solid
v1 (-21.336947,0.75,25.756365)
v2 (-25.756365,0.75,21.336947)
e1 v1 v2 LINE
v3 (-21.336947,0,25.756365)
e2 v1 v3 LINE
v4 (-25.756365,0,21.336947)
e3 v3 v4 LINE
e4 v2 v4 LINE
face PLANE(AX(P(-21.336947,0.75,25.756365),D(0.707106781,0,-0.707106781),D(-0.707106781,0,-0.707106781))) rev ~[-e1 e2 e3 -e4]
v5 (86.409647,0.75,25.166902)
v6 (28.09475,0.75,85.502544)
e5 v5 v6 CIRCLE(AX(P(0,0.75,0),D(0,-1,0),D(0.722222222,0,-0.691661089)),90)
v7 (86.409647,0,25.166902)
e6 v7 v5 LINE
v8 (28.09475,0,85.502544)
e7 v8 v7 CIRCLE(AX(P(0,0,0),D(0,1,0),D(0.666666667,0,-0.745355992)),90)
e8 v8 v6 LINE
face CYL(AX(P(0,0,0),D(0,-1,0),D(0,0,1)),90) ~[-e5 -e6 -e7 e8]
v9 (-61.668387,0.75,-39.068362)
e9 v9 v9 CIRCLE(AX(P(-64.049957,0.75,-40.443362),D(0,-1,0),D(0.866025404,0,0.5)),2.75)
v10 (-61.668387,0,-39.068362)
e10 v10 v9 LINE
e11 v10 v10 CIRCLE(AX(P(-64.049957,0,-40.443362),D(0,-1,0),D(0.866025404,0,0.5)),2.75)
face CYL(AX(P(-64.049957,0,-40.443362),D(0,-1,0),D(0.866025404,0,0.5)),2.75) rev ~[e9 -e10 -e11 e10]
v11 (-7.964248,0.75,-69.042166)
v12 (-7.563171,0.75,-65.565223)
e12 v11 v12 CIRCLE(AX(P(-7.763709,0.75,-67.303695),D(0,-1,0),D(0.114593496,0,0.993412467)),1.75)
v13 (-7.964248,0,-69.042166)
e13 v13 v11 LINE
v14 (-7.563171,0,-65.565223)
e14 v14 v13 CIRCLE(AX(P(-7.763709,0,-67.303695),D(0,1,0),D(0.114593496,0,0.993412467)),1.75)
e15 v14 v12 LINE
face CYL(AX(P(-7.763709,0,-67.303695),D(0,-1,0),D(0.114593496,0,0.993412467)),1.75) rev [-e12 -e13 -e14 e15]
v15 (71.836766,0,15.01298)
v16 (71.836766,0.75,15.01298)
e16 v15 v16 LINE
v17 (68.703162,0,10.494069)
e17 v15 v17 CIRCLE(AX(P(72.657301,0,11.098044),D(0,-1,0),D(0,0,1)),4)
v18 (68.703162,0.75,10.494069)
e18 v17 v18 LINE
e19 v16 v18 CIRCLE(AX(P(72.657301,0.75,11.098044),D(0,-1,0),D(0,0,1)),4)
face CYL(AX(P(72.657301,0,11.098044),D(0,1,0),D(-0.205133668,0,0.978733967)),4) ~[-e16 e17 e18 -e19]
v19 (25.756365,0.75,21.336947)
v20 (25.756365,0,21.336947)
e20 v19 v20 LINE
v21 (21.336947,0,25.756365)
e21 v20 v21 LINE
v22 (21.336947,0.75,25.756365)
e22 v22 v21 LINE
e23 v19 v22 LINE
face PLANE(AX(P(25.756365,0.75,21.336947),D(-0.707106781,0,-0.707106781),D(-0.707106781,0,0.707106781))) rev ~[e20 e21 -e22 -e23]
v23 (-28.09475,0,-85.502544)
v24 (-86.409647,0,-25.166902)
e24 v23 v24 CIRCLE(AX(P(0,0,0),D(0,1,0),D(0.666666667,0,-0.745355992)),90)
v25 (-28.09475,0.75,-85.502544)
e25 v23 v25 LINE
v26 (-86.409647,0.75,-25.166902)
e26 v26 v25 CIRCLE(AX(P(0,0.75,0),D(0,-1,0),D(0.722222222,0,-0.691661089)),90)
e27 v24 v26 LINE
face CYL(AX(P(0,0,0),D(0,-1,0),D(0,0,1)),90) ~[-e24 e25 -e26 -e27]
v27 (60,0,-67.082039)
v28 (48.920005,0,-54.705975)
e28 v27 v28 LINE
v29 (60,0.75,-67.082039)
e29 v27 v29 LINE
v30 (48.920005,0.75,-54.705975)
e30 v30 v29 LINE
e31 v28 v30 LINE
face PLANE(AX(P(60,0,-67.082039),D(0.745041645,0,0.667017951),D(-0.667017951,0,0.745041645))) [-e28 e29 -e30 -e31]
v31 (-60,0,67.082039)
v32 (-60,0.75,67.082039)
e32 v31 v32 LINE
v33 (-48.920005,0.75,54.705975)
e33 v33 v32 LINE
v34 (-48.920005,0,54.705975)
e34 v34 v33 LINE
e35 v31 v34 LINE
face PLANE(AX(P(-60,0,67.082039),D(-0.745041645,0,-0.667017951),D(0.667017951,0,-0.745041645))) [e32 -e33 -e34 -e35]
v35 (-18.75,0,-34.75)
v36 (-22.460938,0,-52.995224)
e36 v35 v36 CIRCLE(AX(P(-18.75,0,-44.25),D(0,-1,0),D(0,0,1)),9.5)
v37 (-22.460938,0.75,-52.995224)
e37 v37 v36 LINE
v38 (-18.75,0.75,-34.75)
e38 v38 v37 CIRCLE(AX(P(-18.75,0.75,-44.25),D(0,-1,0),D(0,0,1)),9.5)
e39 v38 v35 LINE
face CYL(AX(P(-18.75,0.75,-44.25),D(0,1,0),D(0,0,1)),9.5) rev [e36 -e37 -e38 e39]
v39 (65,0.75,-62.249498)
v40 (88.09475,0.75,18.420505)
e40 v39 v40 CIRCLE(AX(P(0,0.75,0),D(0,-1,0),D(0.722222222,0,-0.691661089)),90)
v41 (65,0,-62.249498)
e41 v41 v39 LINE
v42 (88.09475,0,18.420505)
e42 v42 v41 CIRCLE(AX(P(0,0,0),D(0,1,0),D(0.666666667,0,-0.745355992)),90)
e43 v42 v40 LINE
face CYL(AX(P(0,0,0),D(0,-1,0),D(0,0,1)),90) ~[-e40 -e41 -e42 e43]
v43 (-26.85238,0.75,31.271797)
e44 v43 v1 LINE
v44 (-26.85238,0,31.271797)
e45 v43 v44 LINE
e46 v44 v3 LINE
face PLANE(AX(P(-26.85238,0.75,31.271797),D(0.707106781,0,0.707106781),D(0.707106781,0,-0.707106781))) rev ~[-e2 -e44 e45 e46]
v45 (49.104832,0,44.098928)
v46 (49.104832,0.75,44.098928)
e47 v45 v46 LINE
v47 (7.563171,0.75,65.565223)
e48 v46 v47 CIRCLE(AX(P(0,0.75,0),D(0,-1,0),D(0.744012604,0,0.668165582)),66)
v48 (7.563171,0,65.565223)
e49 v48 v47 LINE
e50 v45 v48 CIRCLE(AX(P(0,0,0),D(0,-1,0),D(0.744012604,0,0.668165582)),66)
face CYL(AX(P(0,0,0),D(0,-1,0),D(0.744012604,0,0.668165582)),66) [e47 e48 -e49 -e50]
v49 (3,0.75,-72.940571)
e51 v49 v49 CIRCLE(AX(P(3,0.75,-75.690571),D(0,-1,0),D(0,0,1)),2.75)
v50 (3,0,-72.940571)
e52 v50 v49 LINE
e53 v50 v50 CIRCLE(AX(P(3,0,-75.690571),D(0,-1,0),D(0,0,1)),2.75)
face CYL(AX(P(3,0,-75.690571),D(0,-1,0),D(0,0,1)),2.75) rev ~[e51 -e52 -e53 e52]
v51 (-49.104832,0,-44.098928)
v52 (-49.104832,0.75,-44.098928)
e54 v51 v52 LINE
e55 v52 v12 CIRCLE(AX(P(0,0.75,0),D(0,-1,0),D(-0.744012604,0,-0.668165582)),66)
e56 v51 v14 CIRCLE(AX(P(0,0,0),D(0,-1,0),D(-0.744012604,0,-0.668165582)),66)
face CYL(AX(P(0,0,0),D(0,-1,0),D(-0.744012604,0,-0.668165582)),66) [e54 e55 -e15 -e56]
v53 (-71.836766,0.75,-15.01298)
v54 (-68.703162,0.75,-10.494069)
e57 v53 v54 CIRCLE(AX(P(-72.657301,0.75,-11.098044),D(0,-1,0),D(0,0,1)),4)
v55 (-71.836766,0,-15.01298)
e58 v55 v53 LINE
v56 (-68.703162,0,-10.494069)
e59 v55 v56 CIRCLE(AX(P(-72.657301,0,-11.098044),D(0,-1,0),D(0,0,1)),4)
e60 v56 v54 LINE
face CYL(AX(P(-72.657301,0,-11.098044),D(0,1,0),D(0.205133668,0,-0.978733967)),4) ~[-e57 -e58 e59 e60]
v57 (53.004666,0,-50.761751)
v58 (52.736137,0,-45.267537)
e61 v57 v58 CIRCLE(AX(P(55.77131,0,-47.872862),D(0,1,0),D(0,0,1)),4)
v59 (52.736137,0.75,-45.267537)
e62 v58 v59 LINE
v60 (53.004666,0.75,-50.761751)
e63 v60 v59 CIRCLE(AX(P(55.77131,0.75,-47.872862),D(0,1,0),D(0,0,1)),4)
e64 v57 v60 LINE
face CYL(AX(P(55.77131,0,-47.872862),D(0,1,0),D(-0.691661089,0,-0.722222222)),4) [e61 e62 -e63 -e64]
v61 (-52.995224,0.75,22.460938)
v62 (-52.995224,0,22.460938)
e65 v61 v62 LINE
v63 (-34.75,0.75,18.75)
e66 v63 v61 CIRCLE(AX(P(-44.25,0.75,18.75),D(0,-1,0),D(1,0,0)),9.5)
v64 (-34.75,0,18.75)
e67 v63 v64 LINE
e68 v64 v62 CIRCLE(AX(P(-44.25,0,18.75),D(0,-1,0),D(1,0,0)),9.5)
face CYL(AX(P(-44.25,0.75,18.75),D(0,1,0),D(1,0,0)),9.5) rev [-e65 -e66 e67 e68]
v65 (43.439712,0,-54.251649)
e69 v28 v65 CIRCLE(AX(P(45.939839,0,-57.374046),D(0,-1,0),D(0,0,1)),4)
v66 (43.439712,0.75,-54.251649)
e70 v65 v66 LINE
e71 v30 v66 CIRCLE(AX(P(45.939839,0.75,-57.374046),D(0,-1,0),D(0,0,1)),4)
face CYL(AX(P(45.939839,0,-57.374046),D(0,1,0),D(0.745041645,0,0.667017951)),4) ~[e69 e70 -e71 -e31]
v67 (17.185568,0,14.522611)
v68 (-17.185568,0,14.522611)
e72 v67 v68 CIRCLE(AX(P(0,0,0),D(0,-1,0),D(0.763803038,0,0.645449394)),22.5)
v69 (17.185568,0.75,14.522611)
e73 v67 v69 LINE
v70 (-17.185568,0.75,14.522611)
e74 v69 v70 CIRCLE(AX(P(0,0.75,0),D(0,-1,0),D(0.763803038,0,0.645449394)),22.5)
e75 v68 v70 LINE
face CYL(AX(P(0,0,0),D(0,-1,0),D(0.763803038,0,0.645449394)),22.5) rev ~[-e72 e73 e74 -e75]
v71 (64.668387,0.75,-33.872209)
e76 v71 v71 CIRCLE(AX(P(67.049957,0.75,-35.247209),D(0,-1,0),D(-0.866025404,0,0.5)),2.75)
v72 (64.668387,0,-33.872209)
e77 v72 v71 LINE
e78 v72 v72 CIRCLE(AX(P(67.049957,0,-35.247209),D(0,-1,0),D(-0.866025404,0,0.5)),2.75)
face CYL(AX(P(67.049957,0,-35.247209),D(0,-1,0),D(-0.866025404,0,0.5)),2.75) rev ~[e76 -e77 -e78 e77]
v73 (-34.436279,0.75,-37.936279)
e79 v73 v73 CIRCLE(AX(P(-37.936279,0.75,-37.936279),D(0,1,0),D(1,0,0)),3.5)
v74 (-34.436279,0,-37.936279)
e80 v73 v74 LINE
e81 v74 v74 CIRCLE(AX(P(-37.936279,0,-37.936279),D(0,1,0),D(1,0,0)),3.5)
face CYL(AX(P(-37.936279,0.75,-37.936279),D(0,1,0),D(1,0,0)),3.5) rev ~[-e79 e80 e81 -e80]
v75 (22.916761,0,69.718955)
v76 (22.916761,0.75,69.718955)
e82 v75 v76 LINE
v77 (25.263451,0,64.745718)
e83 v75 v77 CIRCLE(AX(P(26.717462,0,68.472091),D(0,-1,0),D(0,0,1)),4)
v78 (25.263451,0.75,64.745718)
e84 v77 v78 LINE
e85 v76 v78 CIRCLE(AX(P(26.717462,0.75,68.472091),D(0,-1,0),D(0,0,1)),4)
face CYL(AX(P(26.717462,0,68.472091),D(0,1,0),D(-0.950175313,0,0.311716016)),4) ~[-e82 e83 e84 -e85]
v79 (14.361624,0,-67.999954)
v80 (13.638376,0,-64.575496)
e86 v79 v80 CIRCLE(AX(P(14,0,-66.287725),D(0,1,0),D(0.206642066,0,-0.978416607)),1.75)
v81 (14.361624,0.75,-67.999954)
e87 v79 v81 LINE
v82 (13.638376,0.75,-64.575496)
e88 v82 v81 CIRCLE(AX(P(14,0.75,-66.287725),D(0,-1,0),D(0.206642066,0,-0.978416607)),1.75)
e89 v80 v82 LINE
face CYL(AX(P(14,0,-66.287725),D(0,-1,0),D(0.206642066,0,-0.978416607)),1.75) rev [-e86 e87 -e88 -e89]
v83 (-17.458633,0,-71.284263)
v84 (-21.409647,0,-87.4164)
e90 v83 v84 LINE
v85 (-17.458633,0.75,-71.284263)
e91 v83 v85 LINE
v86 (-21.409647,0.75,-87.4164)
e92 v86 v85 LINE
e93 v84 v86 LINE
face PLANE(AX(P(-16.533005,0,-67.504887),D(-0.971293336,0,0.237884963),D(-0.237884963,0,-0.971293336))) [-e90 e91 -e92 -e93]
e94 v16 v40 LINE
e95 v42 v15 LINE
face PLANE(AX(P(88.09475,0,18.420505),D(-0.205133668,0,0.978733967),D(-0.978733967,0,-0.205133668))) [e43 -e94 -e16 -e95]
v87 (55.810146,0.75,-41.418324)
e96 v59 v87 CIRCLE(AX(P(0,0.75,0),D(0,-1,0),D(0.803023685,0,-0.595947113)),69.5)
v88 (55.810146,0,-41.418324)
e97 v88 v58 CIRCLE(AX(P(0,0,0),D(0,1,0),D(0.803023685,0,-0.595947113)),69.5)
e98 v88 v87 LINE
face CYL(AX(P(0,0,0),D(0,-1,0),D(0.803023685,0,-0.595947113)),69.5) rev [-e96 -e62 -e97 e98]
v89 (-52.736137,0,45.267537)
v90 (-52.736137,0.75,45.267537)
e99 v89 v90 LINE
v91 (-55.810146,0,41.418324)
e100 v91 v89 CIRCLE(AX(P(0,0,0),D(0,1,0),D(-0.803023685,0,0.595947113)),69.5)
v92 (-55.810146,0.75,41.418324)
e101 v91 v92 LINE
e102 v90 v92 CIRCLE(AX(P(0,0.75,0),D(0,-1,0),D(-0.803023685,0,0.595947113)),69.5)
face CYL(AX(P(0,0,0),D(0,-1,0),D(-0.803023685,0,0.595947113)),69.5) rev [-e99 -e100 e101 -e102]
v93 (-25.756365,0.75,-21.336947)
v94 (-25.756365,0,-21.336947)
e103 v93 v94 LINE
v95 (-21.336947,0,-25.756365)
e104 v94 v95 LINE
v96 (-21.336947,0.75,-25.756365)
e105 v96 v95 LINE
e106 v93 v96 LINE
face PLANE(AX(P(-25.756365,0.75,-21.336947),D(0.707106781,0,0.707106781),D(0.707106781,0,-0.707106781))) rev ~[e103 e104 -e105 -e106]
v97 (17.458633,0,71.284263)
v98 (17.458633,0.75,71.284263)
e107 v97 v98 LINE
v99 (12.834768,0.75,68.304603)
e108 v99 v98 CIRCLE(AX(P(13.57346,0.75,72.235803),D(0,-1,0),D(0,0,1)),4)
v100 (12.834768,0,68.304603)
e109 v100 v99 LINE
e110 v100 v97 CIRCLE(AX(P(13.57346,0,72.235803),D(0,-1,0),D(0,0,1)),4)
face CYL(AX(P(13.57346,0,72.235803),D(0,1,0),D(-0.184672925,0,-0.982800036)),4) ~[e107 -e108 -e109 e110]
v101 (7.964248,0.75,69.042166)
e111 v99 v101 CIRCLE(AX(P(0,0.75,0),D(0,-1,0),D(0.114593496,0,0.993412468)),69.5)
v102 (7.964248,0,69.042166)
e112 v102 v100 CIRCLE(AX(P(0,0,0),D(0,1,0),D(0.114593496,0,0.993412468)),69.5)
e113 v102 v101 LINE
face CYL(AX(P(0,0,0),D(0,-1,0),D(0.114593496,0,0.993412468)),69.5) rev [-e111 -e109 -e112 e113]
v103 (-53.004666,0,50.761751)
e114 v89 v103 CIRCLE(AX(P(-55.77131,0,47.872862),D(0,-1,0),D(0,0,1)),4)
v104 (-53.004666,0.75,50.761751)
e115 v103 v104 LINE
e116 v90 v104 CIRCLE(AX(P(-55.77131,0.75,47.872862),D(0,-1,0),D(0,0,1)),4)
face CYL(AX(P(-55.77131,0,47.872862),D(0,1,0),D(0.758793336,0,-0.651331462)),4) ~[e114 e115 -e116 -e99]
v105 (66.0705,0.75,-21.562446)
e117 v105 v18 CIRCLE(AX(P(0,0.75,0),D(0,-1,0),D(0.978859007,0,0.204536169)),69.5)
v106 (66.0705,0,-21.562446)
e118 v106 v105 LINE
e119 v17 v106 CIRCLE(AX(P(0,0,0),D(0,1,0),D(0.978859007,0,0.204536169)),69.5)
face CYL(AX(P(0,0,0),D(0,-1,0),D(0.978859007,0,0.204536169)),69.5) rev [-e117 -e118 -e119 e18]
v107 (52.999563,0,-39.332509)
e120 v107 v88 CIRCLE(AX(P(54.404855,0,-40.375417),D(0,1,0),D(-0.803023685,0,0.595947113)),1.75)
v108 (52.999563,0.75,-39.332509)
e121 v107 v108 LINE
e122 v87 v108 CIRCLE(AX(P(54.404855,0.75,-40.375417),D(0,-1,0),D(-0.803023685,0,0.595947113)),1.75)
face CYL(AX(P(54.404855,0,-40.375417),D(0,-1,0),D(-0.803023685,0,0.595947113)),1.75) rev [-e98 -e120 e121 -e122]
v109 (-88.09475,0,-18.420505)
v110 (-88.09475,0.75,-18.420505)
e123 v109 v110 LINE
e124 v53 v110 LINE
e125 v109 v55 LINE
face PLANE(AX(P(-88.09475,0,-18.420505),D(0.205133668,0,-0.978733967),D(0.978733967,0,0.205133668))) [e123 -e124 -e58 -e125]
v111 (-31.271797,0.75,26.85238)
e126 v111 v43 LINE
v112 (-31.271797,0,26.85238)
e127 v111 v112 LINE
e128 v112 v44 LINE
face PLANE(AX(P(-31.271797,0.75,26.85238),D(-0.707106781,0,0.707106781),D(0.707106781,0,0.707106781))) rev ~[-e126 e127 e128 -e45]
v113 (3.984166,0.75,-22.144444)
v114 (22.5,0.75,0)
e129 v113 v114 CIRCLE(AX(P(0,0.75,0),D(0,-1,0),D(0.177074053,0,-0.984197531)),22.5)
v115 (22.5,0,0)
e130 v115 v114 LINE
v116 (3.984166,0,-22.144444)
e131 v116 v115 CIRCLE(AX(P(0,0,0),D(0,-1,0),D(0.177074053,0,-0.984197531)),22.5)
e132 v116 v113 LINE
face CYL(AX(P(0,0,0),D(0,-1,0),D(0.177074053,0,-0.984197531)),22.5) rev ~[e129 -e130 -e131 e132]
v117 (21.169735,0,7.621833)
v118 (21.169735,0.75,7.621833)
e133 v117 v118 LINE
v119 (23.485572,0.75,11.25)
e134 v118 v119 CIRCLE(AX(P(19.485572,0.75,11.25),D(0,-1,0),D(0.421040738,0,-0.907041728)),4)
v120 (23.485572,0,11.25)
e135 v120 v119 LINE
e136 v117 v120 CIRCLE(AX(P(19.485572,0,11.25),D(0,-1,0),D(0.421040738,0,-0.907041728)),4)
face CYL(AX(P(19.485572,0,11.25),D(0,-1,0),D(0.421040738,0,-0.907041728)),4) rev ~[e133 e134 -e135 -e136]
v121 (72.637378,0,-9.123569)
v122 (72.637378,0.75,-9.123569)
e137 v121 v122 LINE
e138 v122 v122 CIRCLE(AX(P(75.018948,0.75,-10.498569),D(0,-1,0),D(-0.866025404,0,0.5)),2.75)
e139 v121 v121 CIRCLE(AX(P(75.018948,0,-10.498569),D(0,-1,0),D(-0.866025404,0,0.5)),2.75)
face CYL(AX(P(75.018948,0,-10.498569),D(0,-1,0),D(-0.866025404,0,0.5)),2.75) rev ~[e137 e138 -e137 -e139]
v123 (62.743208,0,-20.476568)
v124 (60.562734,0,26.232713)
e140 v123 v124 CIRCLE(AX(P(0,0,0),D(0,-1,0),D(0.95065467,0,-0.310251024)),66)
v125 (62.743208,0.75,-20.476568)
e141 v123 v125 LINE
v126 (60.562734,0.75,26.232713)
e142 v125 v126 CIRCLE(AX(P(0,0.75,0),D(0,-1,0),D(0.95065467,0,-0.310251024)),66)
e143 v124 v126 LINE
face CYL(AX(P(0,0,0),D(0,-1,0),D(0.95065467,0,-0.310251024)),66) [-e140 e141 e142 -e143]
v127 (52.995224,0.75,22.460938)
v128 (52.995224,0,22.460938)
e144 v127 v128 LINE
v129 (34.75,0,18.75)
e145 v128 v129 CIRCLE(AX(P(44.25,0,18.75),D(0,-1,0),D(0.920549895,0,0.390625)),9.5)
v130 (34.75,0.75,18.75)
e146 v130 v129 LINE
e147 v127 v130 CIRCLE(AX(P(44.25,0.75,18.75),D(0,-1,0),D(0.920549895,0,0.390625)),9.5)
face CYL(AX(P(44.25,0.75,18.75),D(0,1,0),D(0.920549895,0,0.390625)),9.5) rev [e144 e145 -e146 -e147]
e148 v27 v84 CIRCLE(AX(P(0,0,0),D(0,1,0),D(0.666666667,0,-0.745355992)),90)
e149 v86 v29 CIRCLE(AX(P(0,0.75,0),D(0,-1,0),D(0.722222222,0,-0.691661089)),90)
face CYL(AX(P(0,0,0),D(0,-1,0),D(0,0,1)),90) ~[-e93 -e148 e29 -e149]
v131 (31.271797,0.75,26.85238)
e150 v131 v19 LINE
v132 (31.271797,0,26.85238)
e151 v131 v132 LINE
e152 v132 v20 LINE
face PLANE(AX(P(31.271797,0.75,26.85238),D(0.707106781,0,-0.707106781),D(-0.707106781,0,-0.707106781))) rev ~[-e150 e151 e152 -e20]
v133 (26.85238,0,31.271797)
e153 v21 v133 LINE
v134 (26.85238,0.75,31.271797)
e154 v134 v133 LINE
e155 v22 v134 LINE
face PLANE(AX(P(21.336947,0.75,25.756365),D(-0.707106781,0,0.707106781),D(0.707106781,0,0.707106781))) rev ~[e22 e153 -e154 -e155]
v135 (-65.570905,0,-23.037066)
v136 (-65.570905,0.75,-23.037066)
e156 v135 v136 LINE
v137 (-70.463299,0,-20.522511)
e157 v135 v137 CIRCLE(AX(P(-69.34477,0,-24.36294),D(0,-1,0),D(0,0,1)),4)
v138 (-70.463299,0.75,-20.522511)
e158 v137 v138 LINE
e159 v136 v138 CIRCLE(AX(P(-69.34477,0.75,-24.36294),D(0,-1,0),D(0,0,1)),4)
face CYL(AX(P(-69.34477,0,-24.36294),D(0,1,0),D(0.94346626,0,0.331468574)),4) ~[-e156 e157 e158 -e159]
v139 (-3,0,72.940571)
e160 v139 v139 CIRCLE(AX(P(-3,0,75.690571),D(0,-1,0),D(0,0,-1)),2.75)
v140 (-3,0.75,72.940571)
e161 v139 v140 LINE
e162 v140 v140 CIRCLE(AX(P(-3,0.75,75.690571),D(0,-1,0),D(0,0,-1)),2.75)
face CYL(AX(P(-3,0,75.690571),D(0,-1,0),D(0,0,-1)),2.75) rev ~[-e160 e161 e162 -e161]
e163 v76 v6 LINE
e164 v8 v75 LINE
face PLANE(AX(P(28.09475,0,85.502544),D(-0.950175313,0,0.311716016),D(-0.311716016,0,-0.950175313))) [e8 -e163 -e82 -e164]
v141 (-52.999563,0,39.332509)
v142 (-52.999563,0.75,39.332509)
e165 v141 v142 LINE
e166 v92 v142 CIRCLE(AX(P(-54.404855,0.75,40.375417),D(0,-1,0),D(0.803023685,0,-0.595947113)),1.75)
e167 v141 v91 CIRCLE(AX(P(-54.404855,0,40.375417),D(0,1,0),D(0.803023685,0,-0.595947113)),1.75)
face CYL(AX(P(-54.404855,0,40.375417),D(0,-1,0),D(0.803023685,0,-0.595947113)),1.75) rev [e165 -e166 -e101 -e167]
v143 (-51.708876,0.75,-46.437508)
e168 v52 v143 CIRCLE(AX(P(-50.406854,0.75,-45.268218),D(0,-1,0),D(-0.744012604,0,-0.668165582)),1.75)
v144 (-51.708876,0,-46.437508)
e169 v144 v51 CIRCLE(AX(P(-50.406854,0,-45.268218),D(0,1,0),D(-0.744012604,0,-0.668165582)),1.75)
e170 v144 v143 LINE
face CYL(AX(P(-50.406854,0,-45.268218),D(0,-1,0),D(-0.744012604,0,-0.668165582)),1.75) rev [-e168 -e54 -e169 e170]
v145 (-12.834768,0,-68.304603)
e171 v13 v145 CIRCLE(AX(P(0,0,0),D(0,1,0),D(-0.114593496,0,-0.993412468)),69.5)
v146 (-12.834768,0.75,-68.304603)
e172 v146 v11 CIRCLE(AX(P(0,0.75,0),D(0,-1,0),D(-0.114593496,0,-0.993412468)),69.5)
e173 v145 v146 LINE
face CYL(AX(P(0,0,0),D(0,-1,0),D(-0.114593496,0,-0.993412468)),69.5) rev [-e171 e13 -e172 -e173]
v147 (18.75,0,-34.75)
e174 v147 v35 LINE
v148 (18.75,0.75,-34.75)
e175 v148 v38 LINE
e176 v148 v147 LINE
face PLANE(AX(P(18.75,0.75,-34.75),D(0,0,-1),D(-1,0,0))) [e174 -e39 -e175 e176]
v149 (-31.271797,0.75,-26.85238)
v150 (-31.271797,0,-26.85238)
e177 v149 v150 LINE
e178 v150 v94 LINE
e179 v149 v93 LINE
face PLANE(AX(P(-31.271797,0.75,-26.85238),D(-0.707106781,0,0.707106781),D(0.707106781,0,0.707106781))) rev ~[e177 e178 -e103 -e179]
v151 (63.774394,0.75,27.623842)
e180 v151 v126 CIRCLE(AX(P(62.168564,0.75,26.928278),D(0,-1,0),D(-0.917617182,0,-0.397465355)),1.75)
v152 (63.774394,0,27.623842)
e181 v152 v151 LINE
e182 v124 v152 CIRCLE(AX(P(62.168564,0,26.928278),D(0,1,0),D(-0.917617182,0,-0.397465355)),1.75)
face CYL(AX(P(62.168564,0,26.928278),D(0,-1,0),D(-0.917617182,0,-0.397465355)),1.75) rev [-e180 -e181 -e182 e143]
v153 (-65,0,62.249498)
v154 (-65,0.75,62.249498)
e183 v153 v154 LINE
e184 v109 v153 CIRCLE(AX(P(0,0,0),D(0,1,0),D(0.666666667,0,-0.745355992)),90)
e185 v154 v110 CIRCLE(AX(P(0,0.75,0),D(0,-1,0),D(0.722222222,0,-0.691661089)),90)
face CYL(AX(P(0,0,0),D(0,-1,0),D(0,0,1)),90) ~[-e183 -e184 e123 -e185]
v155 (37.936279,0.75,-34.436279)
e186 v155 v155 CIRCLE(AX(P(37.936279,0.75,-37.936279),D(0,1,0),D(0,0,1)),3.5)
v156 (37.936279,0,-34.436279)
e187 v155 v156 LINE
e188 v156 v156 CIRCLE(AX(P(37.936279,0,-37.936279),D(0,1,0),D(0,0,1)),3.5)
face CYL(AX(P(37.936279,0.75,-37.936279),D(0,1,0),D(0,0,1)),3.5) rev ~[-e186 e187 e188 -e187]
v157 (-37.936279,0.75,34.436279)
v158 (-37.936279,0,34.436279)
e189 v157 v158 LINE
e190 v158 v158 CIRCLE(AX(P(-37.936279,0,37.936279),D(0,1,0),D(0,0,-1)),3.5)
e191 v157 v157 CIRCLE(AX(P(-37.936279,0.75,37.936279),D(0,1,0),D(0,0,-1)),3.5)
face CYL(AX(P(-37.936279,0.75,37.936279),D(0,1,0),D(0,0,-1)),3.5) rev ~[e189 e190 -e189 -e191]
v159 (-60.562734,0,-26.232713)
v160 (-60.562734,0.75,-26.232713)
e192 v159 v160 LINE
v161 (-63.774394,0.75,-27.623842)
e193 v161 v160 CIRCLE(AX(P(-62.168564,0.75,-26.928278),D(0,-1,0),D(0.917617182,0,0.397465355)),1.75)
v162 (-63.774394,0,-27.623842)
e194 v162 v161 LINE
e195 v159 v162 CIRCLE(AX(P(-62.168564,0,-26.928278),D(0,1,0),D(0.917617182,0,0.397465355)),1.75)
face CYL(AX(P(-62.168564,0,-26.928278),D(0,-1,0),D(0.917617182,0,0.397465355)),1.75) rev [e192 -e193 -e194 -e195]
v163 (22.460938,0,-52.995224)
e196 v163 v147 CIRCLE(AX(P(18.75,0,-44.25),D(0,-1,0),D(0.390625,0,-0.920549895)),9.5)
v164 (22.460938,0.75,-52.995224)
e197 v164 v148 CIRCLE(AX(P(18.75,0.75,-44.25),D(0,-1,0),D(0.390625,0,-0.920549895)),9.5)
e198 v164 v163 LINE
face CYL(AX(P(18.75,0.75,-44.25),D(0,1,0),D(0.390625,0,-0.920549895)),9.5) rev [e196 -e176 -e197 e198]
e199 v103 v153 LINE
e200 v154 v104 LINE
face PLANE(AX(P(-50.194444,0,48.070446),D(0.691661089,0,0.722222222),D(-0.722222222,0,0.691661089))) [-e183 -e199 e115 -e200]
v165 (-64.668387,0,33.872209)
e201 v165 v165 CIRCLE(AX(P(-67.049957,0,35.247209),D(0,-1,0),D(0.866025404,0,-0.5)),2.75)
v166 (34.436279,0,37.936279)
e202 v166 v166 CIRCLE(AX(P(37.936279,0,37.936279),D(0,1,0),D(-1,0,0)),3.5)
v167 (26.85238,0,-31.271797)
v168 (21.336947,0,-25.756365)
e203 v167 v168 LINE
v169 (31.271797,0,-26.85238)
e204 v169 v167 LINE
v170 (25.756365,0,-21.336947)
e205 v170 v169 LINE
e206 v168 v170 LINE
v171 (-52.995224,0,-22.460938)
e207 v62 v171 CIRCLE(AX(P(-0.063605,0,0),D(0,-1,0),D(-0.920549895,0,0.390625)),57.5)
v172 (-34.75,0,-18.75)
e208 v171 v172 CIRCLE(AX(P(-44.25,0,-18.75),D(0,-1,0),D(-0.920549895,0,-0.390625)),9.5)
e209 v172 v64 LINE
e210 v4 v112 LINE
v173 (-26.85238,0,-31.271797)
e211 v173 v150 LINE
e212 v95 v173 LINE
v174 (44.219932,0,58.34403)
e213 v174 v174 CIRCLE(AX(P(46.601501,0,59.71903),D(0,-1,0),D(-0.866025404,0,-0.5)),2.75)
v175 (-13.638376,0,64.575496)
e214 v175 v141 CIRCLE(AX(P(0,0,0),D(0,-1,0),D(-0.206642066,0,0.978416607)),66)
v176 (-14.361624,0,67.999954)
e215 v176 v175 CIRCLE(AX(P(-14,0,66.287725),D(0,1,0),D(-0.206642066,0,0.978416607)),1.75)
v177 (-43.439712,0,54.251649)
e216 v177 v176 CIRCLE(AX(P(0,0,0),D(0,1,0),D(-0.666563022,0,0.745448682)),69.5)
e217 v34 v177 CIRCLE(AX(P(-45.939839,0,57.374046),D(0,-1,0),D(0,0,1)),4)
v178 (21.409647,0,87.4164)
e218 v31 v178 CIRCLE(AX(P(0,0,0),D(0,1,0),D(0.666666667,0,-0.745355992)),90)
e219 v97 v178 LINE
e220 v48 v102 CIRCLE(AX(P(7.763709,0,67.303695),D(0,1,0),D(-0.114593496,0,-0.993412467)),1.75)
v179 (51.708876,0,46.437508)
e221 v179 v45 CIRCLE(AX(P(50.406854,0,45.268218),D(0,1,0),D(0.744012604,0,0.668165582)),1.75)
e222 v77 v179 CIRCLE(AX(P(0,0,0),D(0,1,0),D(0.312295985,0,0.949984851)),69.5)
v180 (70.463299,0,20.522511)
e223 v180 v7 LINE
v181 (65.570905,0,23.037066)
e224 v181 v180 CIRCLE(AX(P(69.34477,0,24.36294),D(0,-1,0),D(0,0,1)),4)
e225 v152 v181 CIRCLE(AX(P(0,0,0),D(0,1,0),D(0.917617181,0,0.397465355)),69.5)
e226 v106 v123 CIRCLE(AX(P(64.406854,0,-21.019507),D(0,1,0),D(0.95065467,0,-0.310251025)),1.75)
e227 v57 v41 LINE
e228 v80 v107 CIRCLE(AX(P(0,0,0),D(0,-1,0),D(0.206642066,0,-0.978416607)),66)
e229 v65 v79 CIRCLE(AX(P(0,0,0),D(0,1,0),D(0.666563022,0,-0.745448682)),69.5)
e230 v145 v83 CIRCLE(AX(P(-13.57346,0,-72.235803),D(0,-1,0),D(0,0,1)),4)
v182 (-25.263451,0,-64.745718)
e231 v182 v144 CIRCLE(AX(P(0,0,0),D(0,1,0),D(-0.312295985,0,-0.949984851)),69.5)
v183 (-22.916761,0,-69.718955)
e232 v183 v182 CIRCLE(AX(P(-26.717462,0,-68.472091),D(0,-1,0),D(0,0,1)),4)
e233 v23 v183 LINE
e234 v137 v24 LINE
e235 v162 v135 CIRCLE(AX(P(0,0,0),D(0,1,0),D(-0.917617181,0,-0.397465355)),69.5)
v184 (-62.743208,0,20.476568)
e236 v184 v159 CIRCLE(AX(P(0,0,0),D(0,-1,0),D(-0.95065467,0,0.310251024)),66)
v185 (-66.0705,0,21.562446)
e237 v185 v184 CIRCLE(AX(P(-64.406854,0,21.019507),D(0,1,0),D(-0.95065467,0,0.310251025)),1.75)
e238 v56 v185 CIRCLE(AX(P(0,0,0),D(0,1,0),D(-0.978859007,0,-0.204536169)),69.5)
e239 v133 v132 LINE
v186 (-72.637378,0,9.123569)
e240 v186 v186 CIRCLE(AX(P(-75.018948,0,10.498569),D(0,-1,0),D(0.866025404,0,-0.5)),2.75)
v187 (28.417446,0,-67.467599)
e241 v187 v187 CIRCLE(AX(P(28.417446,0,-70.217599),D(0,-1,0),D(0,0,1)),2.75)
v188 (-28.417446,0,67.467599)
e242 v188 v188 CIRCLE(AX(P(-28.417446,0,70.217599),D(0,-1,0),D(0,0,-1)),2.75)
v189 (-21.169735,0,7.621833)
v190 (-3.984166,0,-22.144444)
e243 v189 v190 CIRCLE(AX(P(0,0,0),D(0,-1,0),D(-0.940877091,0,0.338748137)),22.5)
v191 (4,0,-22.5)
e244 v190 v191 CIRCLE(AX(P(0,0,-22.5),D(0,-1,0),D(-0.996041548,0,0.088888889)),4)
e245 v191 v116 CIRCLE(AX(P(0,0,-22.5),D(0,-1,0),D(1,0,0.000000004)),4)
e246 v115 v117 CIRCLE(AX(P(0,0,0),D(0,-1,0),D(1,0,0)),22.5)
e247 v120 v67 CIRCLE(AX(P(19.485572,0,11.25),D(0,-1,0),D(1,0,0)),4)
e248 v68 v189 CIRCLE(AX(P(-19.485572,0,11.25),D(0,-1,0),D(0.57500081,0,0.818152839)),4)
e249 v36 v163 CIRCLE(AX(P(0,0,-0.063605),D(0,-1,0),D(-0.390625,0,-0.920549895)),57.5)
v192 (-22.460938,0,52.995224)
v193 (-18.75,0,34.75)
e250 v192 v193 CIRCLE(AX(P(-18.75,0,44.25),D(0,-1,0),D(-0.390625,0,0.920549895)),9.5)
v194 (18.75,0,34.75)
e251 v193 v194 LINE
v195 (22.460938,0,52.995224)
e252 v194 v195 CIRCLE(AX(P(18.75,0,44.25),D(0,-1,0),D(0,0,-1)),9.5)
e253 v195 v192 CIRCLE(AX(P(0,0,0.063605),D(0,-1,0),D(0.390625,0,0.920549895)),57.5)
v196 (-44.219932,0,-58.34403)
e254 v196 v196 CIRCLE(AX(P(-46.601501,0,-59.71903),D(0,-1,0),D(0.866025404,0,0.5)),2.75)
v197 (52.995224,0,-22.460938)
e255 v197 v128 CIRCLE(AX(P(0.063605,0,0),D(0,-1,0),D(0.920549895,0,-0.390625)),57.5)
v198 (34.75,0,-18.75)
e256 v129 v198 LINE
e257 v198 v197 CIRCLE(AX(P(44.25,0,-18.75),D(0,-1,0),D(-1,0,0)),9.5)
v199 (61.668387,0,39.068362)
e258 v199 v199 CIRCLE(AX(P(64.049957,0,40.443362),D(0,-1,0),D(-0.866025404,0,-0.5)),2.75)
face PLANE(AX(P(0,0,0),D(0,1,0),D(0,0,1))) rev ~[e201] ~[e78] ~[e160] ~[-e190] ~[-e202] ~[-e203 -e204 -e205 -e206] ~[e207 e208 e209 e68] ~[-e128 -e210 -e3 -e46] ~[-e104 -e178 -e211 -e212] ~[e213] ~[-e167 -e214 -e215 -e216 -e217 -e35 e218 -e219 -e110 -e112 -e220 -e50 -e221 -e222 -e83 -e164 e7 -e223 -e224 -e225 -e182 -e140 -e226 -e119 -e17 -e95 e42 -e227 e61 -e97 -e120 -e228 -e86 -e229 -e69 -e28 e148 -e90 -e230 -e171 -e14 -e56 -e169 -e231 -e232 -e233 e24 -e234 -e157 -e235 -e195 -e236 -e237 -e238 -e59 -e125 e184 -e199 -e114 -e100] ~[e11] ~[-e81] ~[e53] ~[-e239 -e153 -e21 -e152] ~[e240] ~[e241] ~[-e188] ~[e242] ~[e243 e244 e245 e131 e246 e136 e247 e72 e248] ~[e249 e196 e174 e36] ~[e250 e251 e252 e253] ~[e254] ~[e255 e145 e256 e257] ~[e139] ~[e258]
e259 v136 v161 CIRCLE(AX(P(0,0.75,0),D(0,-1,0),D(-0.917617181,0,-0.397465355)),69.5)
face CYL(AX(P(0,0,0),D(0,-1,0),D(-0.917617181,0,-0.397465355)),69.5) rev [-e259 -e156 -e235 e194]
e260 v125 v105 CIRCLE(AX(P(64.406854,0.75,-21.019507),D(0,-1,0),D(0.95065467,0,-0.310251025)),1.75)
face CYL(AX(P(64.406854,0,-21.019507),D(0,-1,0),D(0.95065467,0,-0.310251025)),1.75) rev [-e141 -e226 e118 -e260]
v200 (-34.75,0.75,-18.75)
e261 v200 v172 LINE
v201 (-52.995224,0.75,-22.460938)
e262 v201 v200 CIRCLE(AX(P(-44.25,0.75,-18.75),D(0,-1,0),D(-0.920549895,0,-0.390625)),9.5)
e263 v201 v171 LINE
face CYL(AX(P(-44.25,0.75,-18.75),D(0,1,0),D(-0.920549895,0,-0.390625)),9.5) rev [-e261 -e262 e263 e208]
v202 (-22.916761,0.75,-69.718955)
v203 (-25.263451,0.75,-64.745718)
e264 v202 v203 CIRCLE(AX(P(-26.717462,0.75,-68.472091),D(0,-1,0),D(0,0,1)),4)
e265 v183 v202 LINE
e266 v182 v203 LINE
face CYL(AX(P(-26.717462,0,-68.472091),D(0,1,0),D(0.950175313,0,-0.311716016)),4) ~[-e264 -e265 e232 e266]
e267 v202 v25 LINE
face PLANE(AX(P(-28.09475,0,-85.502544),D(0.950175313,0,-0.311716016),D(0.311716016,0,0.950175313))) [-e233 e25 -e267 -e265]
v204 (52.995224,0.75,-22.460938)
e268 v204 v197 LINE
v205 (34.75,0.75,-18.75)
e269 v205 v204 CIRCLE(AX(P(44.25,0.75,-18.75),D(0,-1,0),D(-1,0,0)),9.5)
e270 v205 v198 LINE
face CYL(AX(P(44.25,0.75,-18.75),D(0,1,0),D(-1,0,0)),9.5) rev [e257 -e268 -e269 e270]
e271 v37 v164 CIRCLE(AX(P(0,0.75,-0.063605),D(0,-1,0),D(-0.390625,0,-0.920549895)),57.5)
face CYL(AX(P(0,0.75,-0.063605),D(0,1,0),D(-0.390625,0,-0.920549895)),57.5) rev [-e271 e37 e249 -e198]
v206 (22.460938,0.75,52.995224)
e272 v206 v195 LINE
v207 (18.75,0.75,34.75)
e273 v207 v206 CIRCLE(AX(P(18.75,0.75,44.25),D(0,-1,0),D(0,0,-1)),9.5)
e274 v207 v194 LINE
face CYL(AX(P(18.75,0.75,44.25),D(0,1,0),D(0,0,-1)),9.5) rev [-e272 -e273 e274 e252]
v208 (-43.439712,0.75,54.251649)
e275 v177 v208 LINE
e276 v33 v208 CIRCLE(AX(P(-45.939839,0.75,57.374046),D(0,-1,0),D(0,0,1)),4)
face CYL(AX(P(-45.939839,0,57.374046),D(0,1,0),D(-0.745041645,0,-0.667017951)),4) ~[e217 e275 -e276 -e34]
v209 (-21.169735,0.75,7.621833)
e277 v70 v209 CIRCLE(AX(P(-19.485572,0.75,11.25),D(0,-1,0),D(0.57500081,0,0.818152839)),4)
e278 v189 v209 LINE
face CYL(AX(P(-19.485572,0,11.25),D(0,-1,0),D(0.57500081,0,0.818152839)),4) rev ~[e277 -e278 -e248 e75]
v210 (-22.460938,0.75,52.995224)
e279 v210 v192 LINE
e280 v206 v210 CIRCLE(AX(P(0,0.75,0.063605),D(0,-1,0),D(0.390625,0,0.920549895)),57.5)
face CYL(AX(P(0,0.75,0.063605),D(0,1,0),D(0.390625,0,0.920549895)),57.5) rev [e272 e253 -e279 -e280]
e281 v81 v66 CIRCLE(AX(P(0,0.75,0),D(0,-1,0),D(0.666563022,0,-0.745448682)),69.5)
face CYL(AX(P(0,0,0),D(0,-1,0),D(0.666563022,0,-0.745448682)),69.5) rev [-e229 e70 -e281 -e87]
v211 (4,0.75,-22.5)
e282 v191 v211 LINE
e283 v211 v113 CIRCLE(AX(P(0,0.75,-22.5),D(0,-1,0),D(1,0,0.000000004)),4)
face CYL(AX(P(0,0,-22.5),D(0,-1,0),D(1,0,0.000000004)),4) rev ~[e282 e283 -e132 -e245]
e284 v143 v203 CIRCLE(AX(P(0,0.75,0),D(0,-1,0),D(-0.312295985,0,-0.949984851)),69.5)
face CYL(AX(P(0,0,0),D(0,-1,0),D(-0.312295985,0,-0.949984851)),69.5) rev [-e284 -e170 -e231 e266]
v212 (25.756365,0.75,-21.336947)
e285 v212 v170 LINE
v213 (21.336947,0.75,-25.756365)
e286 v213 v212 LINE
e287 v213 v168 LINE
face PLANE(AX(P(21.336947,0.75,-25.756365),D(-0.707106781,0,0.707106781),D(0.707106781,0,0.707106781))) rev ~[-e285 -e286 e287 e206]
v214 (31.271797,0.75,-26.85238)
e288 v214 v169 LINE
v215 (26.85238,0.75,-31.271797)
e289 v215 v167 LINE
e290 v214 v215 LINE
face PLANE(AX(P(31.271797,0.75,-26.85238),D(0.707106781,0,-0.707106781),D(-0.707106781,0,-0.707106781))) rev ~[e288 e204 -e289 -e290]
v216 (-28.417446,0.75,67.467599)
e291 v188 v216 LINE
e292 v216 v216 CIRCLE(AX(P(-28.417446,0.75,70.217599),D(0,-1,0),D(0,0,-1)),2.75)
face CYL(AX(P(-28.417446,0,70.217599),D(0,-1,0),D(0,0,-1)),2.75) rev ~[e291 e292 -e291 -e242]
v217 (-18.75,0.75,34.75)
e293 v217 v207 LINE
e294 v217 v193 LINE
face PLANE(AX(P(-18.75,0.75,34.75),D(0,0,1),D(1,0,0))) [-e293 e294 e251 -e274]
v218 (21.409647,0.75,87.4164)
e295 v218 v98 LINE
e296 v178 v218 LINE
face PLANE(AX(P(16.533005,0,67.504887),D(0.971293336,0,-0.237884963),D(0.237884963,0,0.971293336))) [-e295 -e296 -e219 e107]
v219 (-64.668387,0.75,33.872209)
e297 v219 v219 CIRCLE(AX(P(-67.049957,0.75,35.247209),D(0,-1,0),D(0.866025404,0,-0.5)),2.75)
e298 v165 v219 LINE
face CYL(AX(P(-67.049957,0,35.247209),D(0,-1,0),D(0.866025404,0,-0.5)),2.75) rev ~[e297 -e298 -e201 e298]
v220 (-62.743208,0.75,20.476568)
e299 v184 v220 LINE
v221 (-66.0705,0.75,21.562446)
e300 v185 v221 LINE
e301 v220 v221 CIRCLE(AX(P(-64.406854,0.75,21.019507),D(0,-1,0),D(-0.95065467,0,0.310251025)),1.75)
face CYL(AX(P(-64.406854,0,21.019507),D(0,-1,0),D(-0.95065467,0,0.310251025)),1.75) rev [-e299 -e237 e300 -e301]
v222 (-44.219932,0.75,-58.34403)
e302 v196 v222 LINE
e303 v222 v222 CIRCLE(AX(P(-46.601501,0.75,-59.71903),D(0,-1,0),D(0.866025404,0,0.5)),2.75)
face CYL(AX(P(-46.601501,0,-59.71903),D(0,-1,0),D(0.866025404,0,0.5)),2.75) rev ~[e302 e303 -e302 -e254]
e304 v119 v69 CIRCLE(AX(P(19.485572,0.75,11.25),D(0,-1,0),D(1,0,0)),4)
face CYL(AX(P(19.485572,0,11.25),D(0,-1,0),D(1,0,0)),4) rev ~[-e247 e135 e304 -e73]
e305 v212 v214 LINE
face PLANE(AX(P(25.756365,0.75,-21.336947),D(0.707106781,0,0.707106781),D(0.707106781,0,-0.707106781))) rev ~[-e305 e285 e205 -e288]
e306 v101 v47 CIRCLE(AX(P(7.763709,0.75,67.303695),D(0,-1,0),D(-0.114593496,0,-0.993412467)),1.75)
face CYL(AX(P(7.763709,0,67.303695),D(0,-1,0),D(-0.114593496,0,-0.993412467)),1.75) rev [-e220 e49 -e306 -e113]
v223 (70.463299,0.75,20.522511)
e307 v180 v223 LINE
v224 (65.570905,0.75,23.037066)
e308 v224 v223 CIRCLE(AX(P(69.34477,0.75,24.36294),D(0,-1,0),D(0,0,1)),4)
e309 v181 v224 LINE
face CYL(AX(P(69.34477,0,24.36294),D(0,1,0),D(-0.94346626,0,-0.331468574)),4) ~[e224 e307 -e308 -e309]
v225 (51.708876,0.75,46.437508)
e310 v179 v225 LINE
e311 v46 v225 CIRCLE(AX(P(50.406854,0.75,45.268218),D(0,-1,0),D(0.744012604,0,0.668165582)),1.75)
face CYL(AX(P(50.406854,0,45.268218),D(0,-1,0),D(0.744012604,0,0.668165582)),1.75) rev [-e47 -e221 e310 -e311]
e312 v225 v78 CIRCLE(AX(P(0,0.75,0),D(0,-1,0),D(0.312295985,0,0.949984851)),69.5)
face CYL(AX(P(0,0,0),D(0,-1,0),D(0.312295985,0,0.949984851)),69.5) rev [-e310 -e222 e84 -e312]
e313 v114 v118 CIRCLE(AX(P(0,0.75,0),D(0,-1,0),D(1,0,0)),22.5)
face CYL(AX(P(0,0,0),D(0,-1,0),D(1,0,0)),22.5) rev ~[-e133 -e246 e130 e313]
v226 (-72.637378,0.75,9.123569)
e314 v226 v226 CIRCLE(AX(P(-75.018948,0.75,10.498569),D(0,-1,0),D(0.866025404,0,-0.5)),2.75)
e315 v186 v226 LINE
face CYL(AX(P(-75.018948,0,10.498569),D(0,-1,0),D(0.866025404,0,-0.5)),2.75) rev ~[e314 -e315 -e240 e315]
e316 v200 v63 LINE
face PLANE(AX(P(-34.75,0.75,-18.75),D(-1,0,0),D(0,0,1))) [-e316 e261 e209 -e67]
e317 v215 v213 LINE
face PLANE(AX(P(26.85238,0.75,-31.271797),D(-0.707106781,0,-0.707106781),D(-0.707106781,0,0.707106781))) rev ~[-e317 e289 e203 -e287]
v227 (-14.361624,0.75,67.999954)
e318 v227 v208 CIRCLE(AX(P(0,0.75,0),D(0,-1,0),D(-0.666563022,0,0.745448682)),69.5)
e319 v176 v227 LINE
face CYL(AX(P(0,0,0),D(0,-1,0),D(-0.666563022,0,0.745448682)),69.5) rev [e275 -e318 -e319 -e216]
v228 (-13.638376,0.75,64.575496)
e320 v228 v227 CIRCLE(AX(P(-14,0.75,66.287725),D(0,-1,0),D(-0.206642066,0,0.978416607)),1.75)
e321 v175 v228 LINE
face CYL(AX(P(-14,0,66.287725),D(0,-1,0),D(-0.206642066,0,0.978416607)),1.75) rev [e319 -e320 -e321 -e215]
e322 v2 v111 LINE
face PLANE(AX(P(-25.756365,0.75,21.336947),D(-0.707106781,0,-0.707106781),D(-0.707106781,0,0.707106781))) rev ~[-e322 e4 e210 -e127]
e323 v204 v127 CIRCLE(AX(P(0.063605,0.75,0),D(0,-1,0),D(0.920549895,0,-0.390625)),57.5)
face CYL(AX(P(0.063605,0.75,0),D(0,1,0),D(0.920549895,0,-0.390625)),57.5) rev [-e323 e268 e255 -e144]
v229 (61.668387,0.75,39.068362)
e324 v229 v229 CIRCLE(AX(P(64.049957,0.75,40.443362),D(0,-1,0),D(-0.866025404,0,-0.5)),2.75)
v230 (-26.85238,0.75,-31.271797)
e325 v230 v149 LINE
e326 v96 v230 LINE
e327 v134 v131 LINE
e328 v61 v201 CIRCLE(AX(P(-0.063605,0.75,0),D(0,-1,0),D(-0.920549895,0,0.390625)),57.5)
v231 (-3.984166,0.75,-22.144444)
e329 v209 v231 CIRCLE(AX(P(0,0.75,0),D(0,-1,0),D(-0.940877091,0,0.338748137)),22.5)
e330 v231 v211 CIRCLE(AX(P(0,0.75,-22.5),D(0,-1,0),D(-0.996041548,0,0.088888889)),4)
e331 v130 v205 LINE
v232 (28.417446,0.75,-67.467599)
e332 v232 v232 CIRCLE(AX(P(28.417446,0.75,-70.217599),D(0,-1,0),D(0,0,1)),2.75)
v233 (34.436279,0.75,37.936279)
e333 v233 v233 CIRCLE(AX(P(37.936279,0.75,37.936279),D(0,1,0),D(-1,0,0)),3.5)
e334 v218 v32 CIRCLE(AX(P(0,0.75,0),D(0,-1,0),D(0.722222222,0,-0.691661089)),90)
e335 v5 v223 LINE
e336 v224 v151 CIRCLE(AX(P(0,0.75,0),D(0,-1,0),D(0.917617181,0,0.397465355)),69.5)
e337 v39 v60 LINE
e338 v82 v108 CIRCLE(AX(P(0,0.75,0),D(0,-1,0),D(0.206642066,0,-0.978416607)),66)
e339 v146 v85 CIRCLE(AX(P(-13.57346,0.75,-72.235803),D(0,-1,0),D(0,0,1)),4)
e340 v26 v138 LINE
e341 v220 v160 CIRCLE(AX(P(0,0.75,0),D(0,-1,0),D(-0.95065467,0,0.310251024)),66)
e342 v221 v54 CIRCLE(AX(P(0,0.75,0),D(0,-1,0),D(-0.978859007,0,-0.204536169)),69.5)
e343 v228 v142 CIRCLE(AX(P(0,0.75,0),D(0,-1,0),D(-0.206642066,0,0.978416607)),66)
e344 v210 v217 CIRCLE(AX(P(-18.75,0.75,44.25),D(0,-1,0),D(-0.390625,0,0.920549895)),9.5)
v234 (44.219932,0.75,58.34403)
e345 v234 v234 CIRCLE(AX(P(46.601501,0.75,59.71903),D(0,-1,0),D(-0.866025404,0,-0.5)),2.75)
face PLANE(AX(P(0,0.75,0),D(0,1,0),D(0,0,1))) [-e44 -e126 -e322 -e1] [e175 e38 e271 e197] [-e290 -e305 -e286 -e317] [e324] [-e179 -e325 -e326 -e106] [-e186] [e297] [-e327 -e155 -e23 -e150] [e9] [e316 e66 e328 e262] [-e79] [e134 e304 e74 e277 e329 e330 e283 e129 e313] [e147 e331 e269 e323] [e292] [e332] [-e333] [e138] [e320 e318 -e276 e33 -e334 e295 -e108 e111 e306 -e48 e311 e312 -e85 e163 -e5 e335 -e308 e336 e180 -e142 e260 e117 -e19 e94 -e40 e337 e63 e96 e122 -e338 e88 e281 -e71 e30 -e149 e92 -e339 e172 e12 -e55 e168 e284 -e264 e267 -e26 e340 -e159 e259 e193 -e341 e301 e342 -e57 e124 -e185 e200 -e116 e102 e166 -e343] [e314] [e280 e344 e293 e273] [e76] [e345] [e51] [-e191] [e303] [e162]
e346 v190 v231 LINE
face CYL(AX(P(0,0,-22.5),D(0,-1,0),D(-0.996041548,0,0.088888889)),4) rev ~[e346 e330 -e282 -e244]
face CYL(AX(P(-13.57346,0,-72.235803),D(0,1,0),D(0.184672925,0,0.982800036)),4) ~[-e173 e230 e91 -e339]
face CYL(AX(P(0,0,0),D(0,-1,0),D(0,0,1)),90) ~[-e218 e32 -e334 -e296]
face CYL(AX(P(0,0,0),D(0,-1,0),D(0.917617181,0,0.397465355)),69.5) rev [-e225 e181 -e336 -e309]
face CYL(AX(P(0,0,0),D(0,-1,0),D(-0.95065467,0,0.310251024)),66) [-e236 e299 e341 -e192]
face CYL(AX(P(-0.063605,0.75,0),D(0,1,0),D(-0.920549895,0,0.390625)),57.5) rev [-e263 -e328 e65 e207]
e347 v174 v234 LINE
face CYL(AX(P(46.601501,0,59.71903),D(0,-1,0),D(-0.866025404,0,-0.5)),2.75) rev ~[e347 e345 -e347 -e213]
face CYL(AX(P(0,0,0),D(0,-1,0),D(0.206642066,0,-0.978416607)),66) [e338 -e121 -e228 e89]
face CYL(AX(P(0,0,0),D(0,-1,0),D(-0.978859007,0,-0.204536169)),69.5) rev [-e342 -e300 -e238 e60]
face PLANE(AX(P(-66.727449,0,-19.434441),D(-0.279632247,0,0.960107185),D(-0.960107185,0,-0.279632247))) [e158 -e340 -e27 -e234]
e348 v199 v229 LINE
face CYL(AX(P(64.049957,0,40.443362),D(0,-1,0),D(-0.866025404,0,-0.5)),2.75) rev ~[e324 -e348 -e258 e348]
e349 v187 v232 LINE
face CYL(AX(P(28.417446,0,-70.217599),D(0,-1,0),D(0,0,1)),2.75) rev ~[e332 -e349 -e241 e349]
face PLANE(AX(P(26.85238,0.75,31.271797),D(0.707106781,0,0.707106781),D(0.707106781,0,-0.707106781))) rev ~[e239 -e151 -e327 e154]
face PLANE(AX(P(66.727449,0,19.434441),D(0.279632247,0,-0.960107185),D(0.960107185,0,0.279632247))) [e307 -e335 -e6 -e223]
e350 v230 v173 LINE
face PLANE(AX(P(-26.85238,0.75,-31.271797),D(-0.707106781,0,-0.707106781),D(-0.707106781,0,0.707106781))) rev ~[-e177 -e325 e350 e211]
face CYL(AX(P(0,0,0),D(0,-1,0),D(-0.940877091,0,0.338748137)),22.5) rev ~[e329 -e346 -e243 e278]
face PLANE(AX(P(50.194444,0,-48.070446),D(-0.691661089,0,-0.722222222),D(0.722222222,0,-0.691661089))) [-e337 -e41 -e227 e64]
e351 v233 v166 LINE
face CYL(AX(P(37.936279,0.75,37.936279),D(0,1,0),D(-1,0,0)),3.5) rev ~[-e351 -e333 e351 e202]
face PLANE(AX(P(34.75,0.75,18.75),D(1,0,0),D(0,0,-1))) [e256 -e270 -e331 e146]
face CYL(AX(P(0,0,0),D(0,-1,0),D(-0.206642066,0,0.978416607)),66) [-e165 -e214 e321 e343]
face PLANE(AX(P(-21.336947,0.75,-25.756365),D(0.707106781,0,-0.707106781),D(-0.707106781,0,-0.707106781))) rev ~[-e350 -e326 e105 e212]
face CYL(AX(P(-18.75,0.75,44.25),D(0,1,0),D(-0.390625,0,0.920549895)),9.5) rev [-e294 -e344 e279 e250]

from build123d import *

# Parameters (mm, degrees)
SKETCH2_R                = 90
BOSS_EXTRUDE1_DEPTH      = 0.75
CUT_EXTRUDE1_DEPTH       = 0.75
CUT_EXTRUDE2_START       = -0.75
CUT_EXTRUDE2_DEPTH       = 129.031430303
CUT_EXTRUDE3_DEPTH       = 0.75
CIRPATTERN1_COUNT        = 4
FILLET1_R                = 4
CIRPATTERN3_COUNT        = 6
FILLET1_OF_CIRPATTERN3_R = 4
SKETCH8_R                = 2.75
CUT_EXTRUDE6_DEPTH       = 10
CIRPATTERN5_COUNT        = 6
SKETCH10_R               = 3.5
CUT_EXTRUDE8_DEPTH       = 128.281430303
CIRPATTERN6_COUNT        = 4


with BuildPart() as part:
    # Sketch2 → Boss-Extrude1 (new body)
    with BuildSketch(Plane(origin=(0, 0, 0), x_dir=(1, 0, 0), z_dir=(0, 1, 0))):
        with Locations(Location((0, 0, 0), (0, 0, 270))):
            Circle(SKETCH2_R)
        with BuildLine():
            ThreePointArc((-17.185568345, -14.522611358), (-22.9496732, -13.25), (-21.169734538, -7.621833087))
            ThreePointArc((-21.169734538, -7.621833087), (-19.485571585, 11.25), (-3.984166192, 22.144444444))
            ThreePointArc((-3.984166192, 22.144444444), (-0.177953971, 26.496039587), (4, 22.5))
            ThreePointArc((4, 22.5), (3.996039587, 22.322046029), (3.984166192, 22.144444444))
            ThreePointArc((3.984166192, 22.144444444), (17.261137554, 14.432710429), (22.5, 0))
            ThreePointArc((22.5, 0), (22.164938835, -3.8685251), (21.169734538, -7.621833087))
            ThreePointArc((21.169734538, -7.621833087), (22.857266397, -9.097867547), (23.485571585, -11.25))
            ThreePointArc((23.485571585, -11.25), (21.32947872, -14.799648783), (17.185568345, -14.522611358))
            ThreePointArc((17.185568345, -14.522611358), (0, -22.5), (-17.185568345, -14.522611358))
        make_face(mode=Mode.SUBTRACT)
    extrude(amount=BOSS_EXTRUDE1_DEPTH)

    # Sketch3 → Cut-Extrude1 (cut)
    with BuildSketch(Plane(origin=(0, 0.75, 0), x_dir=(1, 0, 0), z_dir=(0, 1, 0))):
        with BuildLine():
            Line((18.75, 34.75), (-18.75, 34.75))
            ThreePointArc((-18.75, 34.75), (-28.059393859, 42.356541264), (-22.4609375, 52.995224003))
            ThreePointArc((-22.4609375, 52.995224003), (0, 57.563605035), (22.4609375, 52.995224003))
            ThreePointArc((22.4609375, 52.995224003), (28.059393859, 42.356541264), (18.75, 34.75))
        make_face()
    cut_extrude1 = extrude(amount=-CUT_EXTRUDE1_DEPTH, mode=Mode.SUBTRACT)

    # Sketch4 → Cut-Extrude2 (cut)
    with BuildSketch(Plane(origin=(0, 0.75, 0), x_dir=(1, 0, 0), z_dir=(0, 1, 0)).offset(CUT_EXTRUDE2_START)):
        with BuildLine():
            Line((50.194444444, 48.07044567), (65, 62.24949799))
            ThreePointArc((65, 62.24949799), (62.546689472, 64.714076027), (60, 67.082039325))
            Line((60, 67.082039325), (46.326130039, 51.8086834))
            ThreePointArc((46.326130039, 51.8086834), (31.405257095, 61.999676022), (14.361623616, 67.99995417))
            ThreePointArc((14.361623616, 67.99995417), (12.287770938, 66.649348724), (13.638376384, 64.575496046))
            ThreePointArc((13.638376384, 64.575496046), (35.62942383, 55.556675185), (52.99956323, 39.332509421))
            ThreePointArc((52.99956323, 39.332509421), (55.447762126, 38.970125419), (55.810146129, 41.418324315))
            ThreePointArc((55.810146129, 41.418324315), (53.106553129, 44.832399163), (50.194444444, 48.07044567))
        make_face()
    cut_extrude2 = extrude(amount=CUT_EXTRUDE2_DEPTH, mode=Mode.SUBTRACT)

    # Sketch5 → Cut-Extrude3 (cut)
    with BuildSketch(Plane(origin=(0, 0.75, 0), x_dir=(1, 0, 0), z_dir=(0, 1, 0))):
        Polygon((-21.336947122, 25.756364505), (-26.852380016, 31.271797398), (-31.271797398, 26.852380016), (-25.756364505, 21.336947122), align=None)
    cut_extrude3 = extrude(amount=-CUT_EXTRUDE3_DEPTH, mode=Mode.SUBTRACT)

    # CirPattern1: Cut-Extrude1, Cut-Extrude3 ×4 about axis
    cirpattern1_axis = Axis((0, 0, 0), (0, 1, 0))
    add([cut_extrude1.rotate(cirpattern1_axis, i * 360 / CIRPATTERN1_COUNT) for i in range(1, CIRPATTERN1_COUNT)], mode=Mode.SUBTRACT)
    add([cut_extrude3.rotate(cirpattern1_axis, i * 360 / CIRPATTERN1_COUNT) for i in range(1, CIRPATTERN1_COUNT)], mode=Mode.SUBTRACT)

    # Fillet1
    fillet1_edges = [part.edges().sort_by_distance(p)[0] for p in [
        (46.326130039, 0.375, -51.8086834),
        (50.194444444, 0.375, -48.07044567),
    ]]
    fillet(fillet1_edges, radius=FILLET1_R)

    # CirPattern3: Cut-Extrude2 ×6 about axis
    cirpattern3_axis = Axis((0, 0, 0), (0, 1, 0))
    for i in range(1, CIRPATTERN3_COUNT):
        add(cut_extrude2.rotate(cirpattern3_axis, i * 360 / CIRPATTERN3_COUNT), mode=Mode.SUBTRACT)

    # Fillet1 of CirPattern3
    fillet1_of_cirpattern3_edges = [part.edges().sort_by_distance(p)[0] for p in [
        (-21.704570942, 0.375, -66.023947172),
        (-16.533004899, 0.375, -67.504886853),
        (-68.03070098, 0.375, -14.215263772),
        (-66.727449344, 0.375, -19.434441183),
        (-46.326130039, 0.375, 51.8086834),
        (-50.194444444, 0.375, 48.07044567),
        (21.704570942, 0.375, 66.023947172),
        (16.533004899, 0.375, 67.504886853),
        (68.03070098, 0.375, 14.215263772),
        (66.727449344, 0.375, 19.434441183),
    ]]
    fillet(fillet1_of_cirpattern3_edges, radius=FILLET1_OF_CIRPATTERN3_R)

    # Sketch8 → Cut-Extrude6 (cut)
    with BuildSketch(Plane.XZ):
        with Locations(Location((-3, 75.690570747, 0), (0, 0, 270))):
            Circle(SKETCH8_R)
        with Locations(Location((-28.417446421, 70.217599211, 0), (0, 0, 270))):
            Circle(SKETCH8_R)
    cut_extrude6 = extrude(amount=-CUT_EXTRUDE6_DEPTH, mode=Mode.SUBTRACT)

    # CirPattern5: Cut-Extrude6 ×6 about axis
    cirpattern5_axis = Axis((0, 0, 0), (0, 1, 0))
    for i in range(1, CIRPATTERN5_COUNT):
        add(cut_extrude6.rotate(cirpattern5_axis, i * 360 / CIRPATTERN5_COUNT), mode=Mode.SUBTRACT)

    # Sketch10 → Cut-Extrude8 (cut, through all)
    with BuildSketch(Plane(origin=(0, 0.75, 0), x_dir=(1, 0, 0), z_dir=(0, 1, 0))):
        with Locations(Location((37.936278811, 37.936278811, 0), (0, 0, 270))):
            Circle(SKETCH10_R)
    cut_extrude8 = extrude(amount=-CUT_EXTRUDE8_DEPTH, mode=Mode.SUBTRACT)

    # CirPattern6: Cut-Extrude8 ×4 about axis
    cirpattern6_axis = Axis((0, 0, 0), (0, 1, 0))
    for i in range(1, CIRPATTERN6_COUNT):
        add(cut_extrude8.rotate(cirpattern6_axis, i * 360 / CIRPATTERN6_COUNT), mode=Mode.SUBTRACT)


solid = part.part
